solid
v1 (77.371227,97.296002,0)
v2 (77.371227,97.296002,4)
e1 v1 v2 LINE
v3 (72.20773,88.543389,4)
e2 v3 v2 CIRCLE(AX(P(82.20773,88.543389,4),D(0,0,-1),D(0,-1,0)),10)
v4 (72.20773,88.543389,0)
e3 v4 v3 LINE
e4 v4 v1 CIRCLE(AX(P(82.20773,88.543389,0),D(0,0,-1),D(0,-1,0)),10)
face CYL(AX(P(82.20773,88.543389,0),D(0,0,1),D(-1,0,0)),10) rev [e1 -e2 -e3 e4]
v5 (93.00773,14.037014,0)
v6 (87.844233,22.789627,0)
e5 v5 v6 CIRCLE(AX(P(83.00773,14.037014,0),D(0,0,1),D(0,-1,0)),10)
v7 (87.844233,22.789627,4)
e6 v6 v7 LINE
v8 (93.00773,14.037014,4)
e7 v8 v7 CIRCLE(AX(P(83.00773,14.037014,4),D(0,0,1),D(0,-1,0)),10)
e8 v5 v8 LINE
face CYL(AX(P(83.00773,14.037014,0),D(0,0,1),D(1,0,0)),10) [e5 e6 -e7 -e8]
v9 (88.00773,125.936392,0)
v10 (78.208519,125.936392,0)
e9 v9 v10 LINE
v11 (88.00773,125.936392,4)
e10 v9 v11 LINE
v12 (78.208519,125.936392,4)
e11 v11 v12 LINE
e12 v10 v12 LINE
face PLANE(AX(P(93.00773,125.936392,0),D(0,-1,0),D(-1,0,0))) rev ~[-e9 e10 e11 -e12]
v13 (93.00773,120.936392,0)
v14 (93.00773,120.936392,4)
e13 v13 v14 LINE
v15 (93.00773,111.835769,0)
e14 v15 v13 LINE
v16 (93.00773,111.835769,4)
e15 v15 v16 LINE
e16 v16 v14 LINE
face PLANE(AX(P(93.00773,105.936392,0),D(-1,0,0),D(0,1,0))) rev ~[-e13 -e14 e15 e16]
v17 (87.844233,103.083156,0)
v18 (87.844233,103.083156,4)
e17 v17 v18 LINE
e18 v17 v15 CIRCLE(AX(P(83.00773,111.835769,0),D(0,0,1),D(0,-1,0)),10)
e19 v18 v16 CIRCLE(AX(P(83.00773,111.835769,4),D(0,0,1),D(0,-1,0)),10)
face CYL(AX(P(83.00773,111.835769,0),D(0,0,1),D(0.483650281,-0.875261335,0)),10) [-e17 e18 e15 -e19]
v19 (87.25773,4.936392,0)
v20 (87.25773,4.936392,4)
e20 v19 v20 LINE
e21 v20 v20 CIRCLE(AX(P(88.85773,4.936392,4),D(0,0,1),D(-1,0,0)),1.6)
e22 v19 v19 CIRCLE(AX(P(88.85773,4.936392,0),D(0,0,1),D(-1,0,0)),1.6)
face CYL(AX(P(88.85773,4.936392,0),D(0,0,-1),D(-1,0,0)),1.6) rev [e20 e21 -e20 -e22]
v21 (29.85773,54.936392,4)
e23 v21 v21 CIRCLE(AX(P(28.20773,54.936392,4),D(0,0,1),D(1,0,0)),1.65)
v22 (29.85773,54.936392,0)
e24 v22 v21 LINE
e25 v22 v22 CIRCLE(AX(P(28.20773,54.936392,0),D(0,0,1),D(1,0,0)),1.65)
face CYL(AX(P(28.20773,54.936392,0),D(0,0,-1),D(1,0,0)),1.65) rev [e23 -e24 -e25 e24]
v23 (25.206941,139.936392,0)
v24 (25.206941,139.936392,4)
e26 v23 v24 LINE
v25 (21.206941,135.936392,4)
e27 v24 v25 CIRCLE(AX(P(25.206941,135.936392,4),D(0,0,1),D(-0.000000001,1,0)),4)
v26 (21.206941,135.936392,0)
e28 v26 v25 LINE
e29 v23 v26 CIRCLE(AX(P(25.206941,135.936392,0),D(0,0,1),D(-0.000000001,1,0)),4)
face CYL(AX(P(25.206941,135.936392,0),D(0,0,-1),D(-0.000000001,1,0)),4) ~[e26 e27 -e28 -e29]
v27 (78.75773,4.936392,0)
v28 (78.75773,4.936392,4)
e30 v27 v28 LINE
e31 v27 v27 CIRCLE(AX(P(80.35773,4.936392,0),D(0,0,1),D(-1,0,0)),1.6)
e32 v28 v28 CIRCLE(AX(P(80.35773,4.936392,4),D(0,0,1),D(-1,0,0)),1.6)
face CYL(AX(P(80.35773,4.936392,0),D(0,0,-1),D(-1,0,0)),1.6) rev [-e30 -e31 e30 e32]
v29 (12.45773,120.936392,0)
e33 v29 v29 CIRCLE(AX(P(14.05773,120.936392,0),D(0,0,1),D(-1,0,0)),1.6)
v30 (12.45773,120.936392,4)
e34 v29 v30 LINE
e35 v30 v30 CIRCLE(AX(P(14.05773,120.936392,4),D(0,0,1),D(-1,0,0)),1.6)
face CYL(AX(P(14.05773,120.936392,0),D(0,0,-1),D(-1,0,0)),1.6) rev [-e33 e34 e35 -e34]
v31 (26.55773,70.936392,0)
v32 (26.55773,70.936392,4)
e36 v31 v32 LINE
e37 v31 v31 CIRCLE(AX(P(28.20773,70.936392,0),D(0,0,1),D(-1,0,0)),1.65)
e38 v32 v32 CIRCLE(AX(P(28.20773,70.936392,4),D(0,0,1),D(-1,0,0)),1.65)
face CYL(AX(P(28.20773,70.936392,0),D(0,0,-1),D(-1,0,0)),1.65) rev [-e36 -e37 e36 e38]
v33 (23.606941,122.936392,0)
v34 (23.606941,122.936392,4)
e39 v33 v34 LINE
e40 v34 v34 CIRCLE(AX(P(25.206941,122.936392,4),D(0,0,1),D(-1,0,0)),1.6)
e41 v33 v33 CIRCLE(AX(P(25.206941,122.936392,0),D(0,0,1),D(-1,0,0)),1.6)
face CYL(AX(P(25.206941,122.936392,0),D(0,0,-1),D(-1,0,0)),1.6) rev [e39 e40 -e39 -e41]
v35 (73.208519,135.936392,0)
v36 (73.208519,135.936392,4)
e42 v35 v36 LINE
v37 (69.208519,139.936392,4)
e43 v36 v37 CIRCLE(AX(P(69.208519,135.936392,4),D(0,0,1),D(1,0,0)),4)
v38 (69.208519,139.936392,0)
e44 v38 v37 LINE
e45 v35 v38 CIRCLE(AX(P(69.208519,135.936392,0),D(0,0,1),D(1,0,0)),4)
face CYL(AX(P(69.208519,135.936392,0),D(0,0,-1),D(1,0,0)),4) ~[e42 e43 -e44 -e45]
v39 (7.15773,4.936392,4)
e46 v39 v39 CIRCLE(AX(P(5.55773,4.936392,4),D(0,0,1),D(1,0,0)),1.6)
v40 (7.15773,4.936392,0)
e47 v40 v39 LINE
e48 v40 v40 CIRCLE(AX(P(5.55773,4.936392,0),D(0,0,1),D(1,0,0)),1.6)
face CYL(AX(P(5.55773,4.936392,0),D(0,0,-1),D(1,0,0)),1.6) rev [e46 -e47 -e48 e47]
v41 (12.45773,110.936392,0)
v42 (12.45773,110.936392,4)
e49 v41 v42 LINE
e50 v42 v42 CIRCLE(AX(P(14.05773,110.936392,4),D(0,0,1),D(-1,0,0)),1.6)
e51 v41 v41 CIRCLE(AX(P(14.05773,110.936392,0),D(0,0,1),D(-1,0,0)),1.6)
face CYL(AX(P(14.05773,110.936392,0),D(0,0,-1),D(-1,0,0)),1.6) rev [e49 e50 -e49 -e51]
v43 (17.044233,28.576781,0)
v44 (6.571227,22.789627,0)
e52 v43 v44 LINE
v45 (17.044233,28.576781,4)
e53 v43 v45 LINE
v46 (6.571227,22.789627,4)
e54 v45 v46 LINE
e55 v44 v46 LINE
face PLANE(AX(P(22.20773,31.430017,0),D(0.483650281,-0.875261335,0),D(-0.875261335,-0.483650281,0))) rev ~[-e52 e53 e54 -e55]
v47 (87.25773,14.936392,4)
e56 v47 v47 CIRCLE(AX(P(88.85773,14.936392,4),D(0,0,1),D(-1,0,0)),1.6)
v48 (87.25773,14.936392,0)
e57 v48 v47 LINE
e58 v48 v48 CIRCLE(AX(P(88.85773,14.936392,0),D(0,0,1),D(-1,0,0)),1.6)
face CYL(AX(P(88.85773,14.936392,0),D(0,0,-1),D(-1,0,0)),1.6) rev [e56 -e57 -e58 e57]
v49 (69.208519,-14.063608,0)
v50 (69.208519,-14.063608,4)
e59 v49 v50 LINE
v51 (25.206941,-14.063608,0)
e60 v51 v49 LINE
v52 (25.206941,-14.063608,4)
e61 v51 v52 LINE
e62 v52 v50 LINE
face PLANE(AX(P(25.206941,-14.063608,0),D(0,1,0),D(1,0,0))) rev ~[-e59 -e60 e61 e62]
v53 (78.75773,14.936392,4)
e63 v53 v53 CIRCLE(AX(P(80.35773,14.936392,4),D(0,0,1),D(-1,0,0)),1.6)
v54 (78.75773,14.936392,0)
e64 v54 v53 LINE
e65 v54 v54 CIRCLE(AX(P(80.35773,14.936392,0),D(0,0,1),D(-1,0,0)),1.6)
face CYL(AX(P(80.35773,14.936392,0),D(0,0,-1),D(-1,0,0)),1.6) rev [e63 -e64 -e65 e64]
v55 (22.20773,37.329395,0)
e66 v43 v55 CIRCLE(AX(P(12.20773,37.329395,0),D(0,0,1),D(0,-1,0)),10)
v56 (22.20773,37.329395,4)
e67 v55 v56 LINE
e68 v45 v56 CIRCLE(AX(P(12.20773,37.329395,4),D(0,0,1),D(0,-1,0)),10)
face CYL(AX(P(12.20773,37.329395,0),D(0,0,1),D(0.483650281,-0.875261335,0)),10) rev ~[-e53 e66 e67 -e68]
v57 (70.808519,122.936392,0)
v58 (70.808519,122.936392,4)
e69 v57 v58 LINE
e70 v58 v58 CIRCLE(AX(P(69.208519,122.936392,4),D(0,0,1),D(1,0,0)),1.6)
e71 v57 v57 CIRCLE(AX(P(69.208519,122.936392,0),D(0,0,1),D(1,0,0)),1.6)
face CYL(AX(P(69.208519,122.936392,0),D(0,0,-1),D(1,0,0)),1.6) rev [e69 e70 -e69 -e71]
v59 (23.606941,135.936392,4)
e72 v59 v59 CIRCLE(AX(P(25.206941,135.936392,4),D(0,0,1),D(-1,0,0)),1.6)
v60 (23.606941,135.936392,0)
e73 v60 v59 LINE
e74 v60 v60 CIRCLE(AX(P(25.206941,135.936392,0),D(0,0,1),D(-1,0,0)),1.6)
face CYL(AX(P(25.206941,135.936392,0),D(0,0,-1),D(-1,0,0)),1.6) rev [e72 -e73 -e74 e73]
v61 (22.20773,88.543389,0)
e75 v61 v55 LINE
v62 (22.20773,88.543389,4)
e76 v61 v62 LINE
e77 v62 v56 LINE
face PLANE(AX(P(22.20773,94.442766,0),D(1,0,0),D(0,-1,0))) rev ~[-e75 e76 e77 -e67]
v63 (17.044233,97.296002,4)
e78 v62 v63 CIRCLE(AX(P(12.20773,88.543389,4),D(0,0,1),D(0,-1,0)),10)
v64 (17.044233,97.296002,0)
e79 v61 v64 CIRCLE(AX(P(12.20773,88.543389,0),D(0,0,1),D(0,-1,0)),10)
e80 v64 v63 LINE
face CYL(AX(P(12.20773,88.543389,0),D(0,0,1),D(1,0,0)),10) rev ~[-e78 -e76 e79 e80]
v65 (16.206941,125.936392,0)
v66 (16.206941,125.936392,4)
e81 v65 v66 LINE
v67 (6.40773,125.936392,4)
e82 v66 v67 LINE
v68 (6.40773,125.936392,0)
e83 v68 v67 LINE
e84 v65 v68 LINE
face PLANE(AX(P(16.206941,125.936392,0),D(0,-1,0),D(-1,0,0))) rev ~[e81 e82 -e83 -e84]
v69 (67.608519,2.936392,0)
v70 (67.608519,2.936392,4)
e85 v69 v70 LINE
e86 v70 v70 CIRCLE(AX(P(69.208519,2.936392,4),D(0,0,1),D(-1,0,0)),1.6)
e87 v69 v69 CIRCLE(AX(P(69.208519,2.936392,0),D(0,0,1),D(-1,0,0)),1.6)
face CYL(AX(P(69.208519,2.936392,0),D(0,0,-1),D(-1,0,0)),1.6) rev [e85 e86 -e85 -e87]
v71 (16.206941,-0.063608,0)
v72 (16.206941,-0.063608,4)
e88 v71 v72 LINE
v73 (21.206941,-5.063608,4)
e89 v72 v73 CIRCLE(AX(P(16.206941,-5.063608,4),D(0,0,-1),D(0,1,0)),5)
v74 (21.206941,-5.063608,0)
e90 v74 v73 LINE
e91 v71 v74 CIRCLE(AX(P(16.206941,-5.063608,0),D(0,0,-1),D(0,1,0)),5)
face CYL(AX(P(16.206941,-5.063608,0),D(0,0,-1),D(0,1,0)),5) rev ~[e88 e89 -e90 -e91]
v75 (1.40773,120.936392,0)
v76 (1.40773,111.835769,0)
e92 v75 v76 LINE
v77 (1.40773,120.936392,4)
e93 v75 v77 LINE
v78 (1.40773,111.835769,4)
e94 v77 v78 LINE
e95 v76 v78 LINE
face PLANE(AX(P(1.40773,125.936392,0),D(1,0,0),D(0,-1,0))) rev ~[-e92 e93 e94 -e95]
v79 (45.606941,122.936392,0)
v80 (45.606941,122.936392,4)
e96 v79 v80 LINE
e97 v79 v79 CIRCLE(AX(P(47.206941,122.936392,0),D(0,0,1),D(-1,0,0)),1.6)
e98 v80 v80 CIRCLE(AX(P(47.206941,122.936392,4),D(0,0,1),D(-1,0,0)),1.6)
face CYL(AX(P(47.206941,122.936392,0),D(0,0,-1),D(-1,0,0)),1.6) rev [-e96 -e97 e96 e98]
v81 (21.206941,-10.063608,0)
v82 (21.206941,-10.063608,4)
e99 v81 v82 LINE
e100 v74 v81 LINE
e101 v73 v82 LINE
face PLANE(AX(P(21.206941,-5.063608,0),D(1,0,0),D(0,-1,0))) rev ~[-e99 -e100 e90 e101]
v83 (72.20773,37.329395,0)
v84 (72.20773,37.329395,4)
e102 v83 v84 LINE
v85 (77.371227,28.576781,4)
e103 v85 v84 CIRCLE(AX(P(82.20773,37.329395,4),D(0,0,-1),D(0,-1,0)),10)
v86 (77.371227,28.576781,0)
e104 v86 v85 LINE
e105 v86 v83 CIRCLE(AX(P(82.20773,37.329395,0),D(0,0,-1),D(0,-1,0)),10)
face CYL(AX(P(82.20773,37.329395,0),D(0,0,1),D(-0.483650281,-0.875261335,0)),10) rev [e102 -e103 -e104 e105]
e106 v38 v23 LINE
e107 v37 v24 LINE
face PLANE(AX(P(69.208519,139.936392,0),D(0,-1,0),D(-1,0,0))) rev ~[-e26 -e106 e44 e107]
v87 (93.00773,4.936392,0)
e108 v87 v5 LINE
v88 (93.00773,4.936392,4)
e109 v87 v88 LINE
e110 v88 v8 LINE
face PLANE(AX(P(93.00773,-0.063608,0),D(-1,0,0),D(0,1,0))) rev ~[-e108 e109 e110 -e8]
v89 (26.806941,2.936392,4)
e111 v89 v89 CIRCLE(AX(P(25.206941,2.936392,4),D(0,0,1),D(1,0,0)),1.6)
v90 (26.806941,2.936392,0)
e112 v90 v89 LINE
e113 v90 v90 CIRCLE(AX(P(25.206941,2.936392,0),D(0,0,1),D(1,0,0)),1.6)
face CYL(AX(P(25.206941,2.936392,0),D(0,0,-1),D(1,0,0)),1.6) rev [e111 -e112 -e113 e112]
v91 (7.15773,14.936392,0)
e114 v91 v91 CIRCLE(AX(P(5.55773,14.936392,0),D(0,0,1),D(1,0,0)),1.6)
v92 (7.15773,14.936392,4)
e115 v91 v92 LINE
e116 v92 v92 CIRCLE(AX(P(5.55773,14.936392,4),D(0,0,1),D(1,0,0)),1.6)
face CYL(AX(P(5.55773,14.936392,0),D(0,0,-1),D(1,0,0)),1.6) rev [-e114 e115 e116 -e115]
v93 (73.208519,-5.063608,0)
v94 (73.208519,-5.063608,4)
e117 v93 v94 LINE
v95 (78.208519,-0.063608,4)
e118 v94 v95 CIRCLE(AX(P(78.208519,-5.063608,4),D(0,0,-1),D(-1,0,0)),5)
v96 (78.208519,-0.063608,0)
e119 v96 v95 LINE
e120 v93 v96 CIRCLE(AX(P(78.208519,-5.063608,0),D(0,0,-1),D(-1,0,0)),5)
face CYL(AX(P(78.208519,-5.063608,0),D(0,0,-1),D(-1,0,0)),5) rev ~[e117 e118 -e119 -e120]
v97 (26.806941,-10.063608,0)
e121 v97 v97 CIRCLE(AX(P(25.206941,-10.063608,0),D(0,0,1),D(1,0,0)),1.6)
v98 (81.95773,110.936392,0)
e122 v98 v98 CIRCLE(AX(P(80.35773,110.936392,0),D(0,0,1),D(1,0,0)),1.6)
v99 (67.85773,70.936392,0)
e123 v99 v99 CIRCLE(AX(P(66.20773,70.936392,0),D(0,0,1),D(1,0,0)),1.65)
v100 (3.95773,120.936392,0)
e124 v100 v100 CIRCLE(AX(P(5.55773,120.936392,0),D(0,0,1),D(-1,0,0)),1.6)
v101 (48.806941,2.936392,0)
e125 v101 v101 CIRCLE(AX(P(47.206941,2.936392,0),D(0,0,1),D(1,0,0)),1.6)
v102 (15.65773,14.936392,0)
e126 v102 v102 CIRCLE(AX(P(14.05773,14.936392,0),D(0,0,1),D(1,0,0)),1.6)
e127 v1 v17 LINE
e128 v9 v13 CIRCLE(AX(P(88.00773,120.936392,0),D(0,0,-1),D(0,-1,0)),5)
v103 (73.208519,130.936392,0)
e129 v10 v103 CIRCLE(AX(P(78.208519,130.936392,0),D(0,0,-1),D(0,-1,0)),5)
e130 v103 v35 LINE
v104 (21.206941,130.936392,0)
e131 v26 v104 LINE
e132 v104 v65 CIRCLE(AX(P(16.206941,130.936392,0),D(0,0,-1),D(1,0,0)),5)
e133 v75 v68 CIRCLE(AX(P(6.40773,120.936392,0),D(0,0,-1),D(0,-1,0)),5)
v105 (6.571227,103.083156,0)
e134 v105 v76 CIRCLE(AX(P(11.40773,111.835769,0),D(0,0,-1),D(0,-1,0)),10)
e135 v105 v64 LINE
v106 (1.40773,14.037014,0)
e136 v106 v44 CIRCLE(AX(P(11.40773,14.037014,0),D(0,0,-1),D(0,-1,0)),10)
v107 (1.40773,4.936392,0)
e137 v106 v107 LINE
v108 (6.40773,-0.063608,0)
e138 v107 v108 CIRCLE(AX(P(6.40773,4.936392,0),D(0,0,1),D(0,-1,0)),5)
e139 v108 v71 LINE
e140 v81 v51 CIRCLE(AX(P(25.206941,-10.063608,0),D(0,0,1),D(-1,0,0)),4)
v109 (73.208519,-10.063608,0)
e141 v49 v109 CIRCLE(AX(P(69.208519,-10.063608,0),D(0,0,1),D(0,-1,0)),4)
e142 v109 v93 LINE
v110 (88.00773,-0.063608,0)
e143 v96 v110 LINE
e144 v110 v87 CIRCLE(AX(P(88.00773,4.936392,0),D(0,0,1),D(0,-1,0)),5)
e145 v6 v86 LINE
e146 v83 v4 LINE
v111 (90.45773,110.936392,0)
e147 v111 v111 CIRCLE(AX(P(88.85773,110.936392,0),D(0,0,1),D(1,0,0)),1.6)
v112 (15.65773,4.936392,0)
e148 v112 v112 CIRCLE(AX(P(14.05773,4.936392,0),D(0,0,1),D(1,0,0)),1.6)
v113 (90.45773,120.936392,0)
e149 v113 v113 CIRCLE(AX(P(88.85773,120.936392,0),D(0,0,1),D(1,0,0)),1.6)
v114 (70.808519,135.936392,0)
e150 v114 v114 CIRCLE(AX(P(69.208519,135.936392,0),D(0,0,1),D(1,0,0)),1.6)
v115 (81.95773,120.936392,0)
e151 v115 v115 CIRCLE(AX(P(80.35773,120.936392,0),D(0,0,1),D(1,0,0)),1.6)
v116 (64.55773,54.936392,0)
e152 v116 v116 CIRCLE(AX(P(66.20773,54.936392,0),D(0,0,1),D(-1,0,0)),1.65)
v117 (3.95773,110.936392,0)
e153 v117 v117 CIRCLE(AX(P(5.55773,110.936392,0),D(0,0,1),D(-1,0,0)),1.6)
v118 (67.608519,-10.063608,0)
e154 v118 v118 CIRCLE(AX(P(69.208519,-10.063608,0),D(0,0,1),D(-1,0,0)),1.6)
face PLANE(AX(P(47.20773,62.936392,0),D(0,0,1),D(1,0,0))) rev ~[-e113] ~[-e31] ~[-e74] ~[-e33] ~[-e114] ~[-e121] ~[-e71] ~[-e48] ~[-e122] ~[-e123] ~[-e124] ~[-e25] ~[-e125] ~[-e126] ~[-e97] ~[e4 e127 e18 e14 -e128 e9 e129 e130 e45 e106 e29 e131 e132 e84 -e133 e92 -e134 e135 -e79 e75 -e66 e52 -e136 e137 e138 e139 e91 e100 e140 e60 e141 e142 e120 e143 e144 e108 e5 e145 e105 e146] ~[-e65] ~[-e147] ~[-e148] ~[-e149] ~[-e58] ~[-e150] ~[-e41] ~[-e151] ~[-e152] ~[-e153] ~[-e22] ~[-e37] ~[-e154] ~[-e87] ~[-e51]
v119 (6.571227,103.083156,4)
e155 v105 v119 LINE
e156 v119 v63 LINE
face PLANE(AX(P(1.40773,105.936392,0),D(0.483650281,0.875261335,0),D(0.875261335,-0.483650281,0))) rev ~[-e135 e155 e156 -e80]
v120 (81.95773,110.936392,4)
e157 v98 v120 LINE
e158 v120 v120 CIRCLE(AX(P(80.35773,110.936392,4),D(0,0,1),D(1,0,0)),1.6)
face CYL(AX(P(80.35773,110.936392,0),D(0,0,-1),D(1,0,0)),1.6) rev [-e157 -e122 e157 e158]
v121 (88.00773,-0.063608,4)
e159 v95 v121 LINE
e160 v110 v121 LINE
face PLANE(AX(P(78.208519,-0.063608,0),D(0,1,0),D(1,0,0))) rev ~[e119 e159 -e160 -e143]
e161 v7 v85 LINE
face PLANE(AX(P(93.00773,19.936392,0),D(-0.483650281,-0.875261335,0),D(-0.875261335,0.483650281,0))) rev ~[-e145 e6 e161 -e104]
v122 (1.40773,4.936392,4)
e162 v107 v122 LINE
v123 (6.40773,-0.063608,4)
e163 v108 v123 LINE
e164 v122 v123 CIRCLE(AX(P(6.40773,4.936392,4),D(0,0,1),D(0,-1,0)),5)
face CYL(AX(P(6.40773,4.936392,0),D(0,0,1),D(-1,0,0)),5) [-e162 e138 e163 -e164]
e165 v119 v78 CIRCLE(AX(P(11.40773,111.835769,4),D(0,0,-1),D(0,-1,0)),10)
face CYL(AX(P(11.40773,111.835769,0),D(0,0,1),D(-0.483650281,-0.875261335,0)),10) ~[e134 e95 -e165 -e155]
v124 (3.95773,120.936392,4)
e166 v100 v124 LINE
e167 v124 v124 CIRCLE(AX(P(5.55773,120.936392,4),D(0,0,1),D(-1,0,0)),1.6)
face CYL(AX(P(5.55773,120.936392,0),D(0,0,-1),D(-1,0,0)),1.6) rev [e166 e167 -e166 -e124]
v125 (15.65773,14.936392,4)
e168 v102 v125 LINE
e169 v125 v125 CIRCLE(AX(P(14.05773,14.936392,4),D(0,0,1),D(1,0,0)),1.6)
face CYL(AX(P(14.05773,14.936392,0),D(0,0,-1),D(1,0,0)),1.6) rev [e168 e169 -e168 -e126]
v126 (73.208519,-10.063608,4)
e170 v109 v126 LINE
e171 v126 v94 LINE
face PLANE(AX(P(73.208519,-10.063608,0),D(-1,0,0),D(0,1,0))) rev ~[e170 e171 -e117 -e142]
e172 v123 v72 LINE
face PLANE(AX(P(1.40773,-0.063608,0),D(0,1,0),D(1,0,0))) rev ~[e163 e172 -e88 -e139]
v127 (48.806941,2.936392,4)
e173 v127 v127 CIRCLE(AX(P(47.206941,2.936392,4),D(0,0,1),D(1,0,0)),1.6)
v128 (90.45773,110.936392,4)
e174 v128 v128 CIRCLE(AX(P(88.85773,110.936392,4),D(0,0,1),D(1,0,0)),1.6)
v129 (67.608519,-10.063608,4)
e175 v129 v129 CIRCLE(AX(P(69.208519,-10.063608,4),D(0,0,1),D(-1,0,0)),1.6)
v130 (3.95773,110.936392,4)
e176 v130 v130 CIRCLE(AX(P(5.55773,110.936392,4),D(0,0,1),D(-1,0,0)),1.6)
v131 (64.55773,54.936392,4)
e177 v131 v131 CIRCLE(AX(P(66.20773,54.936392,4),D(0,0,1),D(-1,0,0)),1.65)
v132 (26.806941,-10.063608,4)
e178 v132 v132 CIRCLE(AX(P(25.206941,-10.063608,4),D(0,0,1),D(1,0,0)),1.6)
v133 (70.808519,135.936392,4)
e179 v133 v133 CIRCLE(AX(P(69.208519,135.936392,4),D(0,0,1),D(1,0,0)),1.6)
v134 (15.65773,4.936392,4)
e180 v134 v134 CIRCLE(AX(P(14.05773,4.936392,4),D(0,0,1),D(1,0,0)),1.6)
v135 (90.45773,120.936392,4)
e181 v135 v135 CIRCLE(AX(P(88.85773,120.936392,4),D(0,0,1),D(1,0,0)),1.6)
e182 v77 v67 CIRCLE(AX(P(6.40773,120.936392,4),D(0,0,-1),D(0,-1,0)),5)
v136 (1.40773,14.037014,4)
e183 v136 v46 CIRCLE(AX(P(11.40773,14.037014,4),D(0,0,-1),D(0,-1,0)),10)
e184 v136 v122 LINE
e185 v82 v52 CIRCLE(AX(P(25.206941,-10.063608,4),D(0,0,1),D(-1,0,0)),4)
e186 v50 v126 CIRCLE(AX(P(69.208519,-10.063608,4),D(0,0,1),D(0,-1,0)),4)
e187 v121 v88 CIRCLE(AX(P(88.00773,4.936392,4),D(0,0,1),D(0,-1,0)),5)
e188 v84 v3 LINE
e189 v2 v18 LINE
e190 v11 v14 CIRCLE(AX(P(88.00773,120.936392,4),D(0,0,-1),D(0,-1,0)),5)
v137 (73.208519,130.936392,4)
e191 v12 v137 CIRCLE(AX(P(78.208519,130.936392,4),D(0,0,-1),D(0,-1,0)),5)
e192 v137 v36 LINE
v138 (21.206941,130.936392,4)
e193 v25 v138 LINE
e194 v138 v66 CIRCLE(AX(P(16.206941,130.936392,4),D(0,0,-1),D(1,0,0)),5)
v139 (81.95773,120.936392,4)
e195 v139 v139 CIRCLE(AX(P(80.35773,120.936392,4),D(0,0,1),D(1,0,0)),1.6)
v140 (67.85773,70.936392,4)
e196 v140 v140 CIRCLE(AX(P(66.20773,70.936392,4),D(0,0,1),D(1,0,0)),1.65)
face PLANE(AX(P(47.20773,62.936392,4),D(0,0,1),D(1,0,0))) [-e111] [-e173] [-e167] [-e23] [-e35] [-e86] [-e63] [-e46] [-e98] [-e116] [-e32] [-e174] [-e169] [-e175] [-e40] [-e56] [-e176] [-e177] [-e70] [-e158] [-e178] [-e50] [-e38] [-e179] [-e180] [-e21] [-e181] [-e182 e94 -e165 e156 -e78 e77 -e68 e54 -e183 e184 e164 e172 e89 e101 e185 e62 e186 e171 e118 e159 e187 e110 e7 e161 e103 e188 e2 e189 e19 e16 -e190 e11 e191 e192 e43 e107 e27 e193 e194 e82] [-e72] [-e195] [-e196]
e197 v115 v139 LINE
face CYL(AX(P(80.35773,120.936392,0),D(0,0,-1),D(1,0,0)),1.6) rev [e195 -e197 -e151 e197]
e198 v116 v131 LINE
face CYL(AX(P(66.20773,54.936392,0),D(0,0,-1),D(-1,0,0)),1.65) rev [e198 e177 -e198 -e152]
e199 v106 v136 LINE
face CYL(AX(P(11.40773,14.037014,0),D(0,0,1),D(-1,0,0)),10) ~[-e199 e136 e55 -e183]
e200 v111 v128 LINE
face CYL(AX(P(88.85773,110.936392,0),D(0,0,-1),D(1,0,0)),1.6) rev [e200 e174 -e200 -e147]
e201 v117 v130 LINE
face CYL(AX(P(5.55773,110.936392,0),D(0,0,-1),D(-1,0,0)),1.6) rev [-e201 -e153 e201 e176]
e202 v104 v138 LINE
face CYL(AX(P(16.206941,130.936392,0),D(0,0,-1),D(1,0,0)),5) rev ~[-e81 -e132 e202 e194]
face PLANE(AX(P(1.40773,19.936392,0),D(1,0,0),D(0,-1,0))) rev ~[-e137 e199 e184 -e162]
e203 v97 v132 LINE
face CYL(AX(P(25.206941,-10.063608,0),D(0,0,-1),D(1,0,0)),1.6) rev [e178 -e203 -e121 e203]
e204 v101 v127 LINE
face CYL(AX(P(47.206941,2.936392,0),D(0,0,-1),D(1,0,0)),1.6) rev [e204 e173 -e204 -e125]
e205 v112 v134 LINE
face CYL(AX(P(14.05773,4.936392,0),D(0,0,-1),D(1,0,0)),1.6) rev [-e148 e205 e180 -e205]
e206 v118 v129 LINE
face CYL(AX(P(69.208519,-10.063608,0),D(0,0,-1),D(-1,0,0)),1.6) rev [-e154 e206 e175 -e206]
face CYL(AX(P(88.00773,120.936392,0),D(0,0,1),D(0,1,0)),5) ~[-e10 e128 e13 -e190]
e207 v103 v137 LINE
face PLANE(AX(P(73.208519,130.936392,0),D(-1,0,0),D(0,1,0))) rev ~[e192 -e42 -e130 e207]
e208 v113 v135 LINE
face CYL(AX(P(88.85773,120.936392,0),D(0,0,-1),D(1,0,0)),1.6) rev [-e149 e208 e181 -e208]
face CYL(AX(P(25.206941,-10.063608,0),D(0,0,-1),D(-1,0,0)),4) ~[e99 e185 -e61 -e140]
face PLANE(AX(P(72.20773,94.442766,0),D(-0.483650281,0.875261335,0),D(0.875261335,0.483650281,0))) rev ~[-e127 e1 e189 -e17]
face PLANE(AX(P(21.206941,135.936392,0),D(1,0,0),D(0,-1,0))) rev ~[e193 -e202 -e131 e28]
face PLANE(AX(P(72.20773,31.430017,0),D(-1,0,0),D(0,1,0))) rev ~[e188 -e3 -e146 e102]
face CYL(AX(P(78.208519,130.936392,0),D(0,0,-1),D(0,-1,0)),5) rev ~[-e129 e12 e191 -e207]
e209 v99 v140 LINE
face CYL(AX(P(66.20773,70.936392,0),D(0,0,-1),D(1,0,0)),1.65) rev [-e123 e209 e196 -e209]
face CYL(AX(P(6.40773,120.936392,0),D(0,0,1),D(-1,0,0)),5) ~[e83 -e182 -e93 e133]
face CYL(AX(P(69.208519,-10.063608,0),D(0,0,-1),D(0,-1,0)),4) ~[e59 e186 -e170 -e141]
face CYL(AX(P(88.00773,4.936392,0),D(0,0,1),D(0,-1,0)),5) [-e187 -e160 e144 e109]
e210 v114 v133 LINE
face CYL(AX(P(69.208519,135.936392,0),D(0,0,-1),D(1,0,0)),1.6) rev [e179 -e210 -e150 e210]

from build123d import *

# Parameters (mm, degrees)
SKETCH1_R           = 1.6
SKETCH1_R_2         = 1.65
BOSS_EXTRUDE1_DEPTH = 4
FILLET2_R           = 10
FILLET3_R           = 5


with BuildPart() as part:
    # Sketch1 → Boss-Extrude1 (new body)
    with BuildSketch(Plane.XY):
        with BuildLine():
            Line((1.40773023, -0.063608297), (16.206941284, -0.063608297))
            ThreePointArc((16.206941284, -0.063608297), (19.74247519, -1.528074391), (21.206941284, -5.063608297))
            Line((21.206941284, -5.063608297), (21.206941284, -10.063608297))
            ThreePointArc((21.206941284, -10.063608297), (22.37851416, -12.892035422), (25.206941284, -14.063608297))
            Line((25.206941284, -14.063608297), (69.208519176, -14.063608297))
            ThreePointArc((69.208519176, -14.063608297), (72.036946301, -12.892035422), (73.208519176, -10.063608297))
            Line((73.208519176, -10.063608297), (73.208519176, -5.063608297))
            ThreePointArc((73.208519176, -5.063608297), (74.67298527, -1.528074391), (78.208519176, -0.063608297))
            Line((78.208519176, -0.063608297), (93.00773023, -0.063608297))
            Line((93.00773023, -0.063608297), (93.00773023, 19.936391703))
            Line((93.00773023, 19.936391703), (72.20773023, 31.430017028))
            Line((72.20773023, 31.430017028), (72.20773023, 94.442766377))
            Line((72.20773023, 94.442766377), (93.00773023, 105.936391703))
            Line((93.00773023, 105.936391703), (93.00773023, 125.936391703))
            Line((93.00773023, 125.936391703), (78.208519176, 125.936391703))
            ThreePointArc((78.208519176, 125.936391703), (74.67298527, 127.400857797), (73.208519176, 130.936391703))
            Line((73.208519176, 130.936391703), (73.208519176, 135.936391703))
            ThreePointArc((73.208519176, 135.936391703), (72.036946301, 138.764818827), (69.208519176, 139.936391703))
            Line((69.208519176, 139.936391703), (25.206941284, 139.936391703))
            ThreePointArc((25.206941284, 139.936391703), (22.37851416, 138.764818827), (21.206941284, 135.936391703))
            Line((21.206941284, 135.936391703), (21.206941284, 130.936391703))
            ThreePointArc((21.206941284, 130.936391703), (19.74247519, 127.400857797), (16.206941284, 125.936391703))
            Line((16.206941284, 125.936391703), (1.40773023, 125.936391703))
            Line((1.40773023, 125.936391703), (1.40773023, 105.936391703))
            Line((1.40773023, 105.936391703), (22.20773023, 94.442766377))
            Line((22.20773023, 94.442766377), (22.20773023, 31.430017028))
            Line((22.20773023, 31.430017028), (1.40773023, 19.936391703))
            Line((1.40773023, 19.936391703), (1.40773023, -0.063608297))
        make_face()
        with Locations((5.55773023, 4.936391703)):
            Circle(SKETCH1_R, mode=Mode.SUBTRACT)
        with Locations((14.05773023, 4.936391703)):
            Circle(SKETCH1_R, mode=Mode.SUBTRACT)
        with Locations((14.05773023, 14.936391703)):
            Circle(SKETCH1_R, mode=Mode.SUBTRACT)
        with Locations((5.55773023, 14.936391703)):
            Circle(SKETCH1_R, mode=Mode.SUBTRACT)
        with Locations(Location((69.208519176, -10.063608297, 0), (0, 0, 180))):
            Circle(SKETCH1_R, mode=Mode.SUBTRACT)
        with Locations(Location((69.208519176, 2.936391703, 0), (0, 0, 180))):
            Circle(SKETCH1_R, mode=Mode.SUBTRACT)
        with Locations((47.206941284, 2.936391703)):
            Circle(SKETCH1_R, mode=Mode.SUBTRACT)
        with Locations(Location((66.20773023, 54.936391703, 0), (0, 0, 180))):
            Circle(SKETCH1_R_2, mode=Mode.SUBTRACT)
        with Locations(Location((88.85773023, 14.936391703, 0), (0, 0, 180))):
            Circle(SKETCH1_R, mode=Mode.SUBTRACT)
        with Locations(Location((80.35773023, 14.936391703, 0), (0, 0, 180))):
            Circle(SKETCH1_R, mode=Mode.SUBTRACT)
        with Locations(Location((80.35773023, 4.936391703, 0), (0, 0, 180))):
            Circle(SKETCH1_R, mode=Mode.SUBTRACT)
        with Locations(Location((88.85773023, 4.936391703, 0), (0, 0, 180))):
            Circle(SKETCH1_R, mode=Mode.SUBTRACT)
        with Locations((28.20773023, 54.936391703)):
            Circle(SKETCH1_R_2, mode=Mode.SUBTRACT)
        with Locations(Location((25.206941284, 135.936391703, 0), (0, 0, 180))):
            Circle(SKETCH1_R, mode=Mode.SUBTRACT)
        with Locations((25.206941284, 2.936391703)):
            Circle(SKETCH1_R, mode=Mode.SUBTRACT)
        with Locations(Location((25.206941284, 122.936391703, 0), (0, 0, 180))):
            Circle(SKETCH1_R, mode=Mode.SUBTRACT)
        with Locations(Location((28.20773023, 70.936391703, 0), (0, 0, 180))):
            Circle(SKETCH1_R_2, mode=Mode.SUBTRACT)
        with Locations((25.206941284, -10.063608297)):
            Circle(SKETCH1_R, mode=Mode.SUBTRACT)
        with Locations((88.85773023, 120.936391703)):
            Circle(SKETCH1_R, mode=Mode.SUBTRACT)
        with Locations((80.35773023, 120.936391703)):
            Circle(SKETCH1_R, mode=Mode.SUBTRACT)
        with Locations((80.35773023, 110.936391703)):
            Circle(SKETCH1_R, mode=Mode.SUBTRACT)
        with Locations((88.85773023, 110.936391703)):
            Circle(SKETCH1_R, mode=Mode.SUBTRACT)
        with Locations((66.20773023, 70.936391703)):
            Circle(SKETCH1_R_2, mode=Mode.SUBTRACT)
        with Locations(Location((47.206941284, 122.936391703, 0), (0, 0, 180))):
            Circle(SKETCH1_R, mode=Mode.SUBTRACT)
        with Locations((69.208519176, 122.936391703)):
            Circle(SKETCH1_R, mode=Mode.SUBTRACT)
        with Locations((69.208519176, 135.936391703)):
            Circle(SKETCH1_R, mode=Mode.SUBTRACT)
        with Locations(Location((5.55773023, 110.936391703, 0), (0, 0, 180))):
            Circle(SKETCH1_R, mode=Mode.SUBTRACT)
        with Locations(Location((14.05773023, 110.936391703, 0), (0, 0, 180))):
            Circle(SKETCH1_R, mode=Mode.SUBTRACT)
        with Locations(Location((14.05773023, 120.936391703, 0), (0, 0, 180))):
            Circle(SKETCH1_R, mode=Mode.SUBTRACT)
        with Locations(Location((5.55773023, 120.936391703, 0), (0, 0, 180))):
            Circle(SKETCH1_R, mode=Mode.SUBTRACT)
    extrude(amount=BOSS_EXTRUDE1_DEPTH)

    # Fillet2
    fillet2_edges = [part.edges().sort_by_distance(p)[0] for p in [
        (1.40773023, 19.936391703, 2),
        (22.20773023, 31.430017028, 2),
        (22.20773023, 94.442766377, 2),
        (1.40773023, 105.936391703, 2),
        (93.00773023, 105.936391703, 2),
        (72.20773023, 94.442766377, 2),
        (72.20773023, 31.430017028, 2),
        (93.00773023, 19.936391703, 2),
    ]]
    fillet(fillet2_edges, radius=FILLET2_R)

    # Fillet3
    fillet3_edges = [part.edges().sort_by_distance(p)[0] for p in [
        (1.40773023, 125.936391703, 2),
        (93.00773023, 125.936391703, 2),
        (93.00773023, -0.063608297, 2),
        (1.40773023, -0.063608297, 2),
    ]]
    fillet(fillet3_edges, radius=FILLET3_R)


solid = part.part
